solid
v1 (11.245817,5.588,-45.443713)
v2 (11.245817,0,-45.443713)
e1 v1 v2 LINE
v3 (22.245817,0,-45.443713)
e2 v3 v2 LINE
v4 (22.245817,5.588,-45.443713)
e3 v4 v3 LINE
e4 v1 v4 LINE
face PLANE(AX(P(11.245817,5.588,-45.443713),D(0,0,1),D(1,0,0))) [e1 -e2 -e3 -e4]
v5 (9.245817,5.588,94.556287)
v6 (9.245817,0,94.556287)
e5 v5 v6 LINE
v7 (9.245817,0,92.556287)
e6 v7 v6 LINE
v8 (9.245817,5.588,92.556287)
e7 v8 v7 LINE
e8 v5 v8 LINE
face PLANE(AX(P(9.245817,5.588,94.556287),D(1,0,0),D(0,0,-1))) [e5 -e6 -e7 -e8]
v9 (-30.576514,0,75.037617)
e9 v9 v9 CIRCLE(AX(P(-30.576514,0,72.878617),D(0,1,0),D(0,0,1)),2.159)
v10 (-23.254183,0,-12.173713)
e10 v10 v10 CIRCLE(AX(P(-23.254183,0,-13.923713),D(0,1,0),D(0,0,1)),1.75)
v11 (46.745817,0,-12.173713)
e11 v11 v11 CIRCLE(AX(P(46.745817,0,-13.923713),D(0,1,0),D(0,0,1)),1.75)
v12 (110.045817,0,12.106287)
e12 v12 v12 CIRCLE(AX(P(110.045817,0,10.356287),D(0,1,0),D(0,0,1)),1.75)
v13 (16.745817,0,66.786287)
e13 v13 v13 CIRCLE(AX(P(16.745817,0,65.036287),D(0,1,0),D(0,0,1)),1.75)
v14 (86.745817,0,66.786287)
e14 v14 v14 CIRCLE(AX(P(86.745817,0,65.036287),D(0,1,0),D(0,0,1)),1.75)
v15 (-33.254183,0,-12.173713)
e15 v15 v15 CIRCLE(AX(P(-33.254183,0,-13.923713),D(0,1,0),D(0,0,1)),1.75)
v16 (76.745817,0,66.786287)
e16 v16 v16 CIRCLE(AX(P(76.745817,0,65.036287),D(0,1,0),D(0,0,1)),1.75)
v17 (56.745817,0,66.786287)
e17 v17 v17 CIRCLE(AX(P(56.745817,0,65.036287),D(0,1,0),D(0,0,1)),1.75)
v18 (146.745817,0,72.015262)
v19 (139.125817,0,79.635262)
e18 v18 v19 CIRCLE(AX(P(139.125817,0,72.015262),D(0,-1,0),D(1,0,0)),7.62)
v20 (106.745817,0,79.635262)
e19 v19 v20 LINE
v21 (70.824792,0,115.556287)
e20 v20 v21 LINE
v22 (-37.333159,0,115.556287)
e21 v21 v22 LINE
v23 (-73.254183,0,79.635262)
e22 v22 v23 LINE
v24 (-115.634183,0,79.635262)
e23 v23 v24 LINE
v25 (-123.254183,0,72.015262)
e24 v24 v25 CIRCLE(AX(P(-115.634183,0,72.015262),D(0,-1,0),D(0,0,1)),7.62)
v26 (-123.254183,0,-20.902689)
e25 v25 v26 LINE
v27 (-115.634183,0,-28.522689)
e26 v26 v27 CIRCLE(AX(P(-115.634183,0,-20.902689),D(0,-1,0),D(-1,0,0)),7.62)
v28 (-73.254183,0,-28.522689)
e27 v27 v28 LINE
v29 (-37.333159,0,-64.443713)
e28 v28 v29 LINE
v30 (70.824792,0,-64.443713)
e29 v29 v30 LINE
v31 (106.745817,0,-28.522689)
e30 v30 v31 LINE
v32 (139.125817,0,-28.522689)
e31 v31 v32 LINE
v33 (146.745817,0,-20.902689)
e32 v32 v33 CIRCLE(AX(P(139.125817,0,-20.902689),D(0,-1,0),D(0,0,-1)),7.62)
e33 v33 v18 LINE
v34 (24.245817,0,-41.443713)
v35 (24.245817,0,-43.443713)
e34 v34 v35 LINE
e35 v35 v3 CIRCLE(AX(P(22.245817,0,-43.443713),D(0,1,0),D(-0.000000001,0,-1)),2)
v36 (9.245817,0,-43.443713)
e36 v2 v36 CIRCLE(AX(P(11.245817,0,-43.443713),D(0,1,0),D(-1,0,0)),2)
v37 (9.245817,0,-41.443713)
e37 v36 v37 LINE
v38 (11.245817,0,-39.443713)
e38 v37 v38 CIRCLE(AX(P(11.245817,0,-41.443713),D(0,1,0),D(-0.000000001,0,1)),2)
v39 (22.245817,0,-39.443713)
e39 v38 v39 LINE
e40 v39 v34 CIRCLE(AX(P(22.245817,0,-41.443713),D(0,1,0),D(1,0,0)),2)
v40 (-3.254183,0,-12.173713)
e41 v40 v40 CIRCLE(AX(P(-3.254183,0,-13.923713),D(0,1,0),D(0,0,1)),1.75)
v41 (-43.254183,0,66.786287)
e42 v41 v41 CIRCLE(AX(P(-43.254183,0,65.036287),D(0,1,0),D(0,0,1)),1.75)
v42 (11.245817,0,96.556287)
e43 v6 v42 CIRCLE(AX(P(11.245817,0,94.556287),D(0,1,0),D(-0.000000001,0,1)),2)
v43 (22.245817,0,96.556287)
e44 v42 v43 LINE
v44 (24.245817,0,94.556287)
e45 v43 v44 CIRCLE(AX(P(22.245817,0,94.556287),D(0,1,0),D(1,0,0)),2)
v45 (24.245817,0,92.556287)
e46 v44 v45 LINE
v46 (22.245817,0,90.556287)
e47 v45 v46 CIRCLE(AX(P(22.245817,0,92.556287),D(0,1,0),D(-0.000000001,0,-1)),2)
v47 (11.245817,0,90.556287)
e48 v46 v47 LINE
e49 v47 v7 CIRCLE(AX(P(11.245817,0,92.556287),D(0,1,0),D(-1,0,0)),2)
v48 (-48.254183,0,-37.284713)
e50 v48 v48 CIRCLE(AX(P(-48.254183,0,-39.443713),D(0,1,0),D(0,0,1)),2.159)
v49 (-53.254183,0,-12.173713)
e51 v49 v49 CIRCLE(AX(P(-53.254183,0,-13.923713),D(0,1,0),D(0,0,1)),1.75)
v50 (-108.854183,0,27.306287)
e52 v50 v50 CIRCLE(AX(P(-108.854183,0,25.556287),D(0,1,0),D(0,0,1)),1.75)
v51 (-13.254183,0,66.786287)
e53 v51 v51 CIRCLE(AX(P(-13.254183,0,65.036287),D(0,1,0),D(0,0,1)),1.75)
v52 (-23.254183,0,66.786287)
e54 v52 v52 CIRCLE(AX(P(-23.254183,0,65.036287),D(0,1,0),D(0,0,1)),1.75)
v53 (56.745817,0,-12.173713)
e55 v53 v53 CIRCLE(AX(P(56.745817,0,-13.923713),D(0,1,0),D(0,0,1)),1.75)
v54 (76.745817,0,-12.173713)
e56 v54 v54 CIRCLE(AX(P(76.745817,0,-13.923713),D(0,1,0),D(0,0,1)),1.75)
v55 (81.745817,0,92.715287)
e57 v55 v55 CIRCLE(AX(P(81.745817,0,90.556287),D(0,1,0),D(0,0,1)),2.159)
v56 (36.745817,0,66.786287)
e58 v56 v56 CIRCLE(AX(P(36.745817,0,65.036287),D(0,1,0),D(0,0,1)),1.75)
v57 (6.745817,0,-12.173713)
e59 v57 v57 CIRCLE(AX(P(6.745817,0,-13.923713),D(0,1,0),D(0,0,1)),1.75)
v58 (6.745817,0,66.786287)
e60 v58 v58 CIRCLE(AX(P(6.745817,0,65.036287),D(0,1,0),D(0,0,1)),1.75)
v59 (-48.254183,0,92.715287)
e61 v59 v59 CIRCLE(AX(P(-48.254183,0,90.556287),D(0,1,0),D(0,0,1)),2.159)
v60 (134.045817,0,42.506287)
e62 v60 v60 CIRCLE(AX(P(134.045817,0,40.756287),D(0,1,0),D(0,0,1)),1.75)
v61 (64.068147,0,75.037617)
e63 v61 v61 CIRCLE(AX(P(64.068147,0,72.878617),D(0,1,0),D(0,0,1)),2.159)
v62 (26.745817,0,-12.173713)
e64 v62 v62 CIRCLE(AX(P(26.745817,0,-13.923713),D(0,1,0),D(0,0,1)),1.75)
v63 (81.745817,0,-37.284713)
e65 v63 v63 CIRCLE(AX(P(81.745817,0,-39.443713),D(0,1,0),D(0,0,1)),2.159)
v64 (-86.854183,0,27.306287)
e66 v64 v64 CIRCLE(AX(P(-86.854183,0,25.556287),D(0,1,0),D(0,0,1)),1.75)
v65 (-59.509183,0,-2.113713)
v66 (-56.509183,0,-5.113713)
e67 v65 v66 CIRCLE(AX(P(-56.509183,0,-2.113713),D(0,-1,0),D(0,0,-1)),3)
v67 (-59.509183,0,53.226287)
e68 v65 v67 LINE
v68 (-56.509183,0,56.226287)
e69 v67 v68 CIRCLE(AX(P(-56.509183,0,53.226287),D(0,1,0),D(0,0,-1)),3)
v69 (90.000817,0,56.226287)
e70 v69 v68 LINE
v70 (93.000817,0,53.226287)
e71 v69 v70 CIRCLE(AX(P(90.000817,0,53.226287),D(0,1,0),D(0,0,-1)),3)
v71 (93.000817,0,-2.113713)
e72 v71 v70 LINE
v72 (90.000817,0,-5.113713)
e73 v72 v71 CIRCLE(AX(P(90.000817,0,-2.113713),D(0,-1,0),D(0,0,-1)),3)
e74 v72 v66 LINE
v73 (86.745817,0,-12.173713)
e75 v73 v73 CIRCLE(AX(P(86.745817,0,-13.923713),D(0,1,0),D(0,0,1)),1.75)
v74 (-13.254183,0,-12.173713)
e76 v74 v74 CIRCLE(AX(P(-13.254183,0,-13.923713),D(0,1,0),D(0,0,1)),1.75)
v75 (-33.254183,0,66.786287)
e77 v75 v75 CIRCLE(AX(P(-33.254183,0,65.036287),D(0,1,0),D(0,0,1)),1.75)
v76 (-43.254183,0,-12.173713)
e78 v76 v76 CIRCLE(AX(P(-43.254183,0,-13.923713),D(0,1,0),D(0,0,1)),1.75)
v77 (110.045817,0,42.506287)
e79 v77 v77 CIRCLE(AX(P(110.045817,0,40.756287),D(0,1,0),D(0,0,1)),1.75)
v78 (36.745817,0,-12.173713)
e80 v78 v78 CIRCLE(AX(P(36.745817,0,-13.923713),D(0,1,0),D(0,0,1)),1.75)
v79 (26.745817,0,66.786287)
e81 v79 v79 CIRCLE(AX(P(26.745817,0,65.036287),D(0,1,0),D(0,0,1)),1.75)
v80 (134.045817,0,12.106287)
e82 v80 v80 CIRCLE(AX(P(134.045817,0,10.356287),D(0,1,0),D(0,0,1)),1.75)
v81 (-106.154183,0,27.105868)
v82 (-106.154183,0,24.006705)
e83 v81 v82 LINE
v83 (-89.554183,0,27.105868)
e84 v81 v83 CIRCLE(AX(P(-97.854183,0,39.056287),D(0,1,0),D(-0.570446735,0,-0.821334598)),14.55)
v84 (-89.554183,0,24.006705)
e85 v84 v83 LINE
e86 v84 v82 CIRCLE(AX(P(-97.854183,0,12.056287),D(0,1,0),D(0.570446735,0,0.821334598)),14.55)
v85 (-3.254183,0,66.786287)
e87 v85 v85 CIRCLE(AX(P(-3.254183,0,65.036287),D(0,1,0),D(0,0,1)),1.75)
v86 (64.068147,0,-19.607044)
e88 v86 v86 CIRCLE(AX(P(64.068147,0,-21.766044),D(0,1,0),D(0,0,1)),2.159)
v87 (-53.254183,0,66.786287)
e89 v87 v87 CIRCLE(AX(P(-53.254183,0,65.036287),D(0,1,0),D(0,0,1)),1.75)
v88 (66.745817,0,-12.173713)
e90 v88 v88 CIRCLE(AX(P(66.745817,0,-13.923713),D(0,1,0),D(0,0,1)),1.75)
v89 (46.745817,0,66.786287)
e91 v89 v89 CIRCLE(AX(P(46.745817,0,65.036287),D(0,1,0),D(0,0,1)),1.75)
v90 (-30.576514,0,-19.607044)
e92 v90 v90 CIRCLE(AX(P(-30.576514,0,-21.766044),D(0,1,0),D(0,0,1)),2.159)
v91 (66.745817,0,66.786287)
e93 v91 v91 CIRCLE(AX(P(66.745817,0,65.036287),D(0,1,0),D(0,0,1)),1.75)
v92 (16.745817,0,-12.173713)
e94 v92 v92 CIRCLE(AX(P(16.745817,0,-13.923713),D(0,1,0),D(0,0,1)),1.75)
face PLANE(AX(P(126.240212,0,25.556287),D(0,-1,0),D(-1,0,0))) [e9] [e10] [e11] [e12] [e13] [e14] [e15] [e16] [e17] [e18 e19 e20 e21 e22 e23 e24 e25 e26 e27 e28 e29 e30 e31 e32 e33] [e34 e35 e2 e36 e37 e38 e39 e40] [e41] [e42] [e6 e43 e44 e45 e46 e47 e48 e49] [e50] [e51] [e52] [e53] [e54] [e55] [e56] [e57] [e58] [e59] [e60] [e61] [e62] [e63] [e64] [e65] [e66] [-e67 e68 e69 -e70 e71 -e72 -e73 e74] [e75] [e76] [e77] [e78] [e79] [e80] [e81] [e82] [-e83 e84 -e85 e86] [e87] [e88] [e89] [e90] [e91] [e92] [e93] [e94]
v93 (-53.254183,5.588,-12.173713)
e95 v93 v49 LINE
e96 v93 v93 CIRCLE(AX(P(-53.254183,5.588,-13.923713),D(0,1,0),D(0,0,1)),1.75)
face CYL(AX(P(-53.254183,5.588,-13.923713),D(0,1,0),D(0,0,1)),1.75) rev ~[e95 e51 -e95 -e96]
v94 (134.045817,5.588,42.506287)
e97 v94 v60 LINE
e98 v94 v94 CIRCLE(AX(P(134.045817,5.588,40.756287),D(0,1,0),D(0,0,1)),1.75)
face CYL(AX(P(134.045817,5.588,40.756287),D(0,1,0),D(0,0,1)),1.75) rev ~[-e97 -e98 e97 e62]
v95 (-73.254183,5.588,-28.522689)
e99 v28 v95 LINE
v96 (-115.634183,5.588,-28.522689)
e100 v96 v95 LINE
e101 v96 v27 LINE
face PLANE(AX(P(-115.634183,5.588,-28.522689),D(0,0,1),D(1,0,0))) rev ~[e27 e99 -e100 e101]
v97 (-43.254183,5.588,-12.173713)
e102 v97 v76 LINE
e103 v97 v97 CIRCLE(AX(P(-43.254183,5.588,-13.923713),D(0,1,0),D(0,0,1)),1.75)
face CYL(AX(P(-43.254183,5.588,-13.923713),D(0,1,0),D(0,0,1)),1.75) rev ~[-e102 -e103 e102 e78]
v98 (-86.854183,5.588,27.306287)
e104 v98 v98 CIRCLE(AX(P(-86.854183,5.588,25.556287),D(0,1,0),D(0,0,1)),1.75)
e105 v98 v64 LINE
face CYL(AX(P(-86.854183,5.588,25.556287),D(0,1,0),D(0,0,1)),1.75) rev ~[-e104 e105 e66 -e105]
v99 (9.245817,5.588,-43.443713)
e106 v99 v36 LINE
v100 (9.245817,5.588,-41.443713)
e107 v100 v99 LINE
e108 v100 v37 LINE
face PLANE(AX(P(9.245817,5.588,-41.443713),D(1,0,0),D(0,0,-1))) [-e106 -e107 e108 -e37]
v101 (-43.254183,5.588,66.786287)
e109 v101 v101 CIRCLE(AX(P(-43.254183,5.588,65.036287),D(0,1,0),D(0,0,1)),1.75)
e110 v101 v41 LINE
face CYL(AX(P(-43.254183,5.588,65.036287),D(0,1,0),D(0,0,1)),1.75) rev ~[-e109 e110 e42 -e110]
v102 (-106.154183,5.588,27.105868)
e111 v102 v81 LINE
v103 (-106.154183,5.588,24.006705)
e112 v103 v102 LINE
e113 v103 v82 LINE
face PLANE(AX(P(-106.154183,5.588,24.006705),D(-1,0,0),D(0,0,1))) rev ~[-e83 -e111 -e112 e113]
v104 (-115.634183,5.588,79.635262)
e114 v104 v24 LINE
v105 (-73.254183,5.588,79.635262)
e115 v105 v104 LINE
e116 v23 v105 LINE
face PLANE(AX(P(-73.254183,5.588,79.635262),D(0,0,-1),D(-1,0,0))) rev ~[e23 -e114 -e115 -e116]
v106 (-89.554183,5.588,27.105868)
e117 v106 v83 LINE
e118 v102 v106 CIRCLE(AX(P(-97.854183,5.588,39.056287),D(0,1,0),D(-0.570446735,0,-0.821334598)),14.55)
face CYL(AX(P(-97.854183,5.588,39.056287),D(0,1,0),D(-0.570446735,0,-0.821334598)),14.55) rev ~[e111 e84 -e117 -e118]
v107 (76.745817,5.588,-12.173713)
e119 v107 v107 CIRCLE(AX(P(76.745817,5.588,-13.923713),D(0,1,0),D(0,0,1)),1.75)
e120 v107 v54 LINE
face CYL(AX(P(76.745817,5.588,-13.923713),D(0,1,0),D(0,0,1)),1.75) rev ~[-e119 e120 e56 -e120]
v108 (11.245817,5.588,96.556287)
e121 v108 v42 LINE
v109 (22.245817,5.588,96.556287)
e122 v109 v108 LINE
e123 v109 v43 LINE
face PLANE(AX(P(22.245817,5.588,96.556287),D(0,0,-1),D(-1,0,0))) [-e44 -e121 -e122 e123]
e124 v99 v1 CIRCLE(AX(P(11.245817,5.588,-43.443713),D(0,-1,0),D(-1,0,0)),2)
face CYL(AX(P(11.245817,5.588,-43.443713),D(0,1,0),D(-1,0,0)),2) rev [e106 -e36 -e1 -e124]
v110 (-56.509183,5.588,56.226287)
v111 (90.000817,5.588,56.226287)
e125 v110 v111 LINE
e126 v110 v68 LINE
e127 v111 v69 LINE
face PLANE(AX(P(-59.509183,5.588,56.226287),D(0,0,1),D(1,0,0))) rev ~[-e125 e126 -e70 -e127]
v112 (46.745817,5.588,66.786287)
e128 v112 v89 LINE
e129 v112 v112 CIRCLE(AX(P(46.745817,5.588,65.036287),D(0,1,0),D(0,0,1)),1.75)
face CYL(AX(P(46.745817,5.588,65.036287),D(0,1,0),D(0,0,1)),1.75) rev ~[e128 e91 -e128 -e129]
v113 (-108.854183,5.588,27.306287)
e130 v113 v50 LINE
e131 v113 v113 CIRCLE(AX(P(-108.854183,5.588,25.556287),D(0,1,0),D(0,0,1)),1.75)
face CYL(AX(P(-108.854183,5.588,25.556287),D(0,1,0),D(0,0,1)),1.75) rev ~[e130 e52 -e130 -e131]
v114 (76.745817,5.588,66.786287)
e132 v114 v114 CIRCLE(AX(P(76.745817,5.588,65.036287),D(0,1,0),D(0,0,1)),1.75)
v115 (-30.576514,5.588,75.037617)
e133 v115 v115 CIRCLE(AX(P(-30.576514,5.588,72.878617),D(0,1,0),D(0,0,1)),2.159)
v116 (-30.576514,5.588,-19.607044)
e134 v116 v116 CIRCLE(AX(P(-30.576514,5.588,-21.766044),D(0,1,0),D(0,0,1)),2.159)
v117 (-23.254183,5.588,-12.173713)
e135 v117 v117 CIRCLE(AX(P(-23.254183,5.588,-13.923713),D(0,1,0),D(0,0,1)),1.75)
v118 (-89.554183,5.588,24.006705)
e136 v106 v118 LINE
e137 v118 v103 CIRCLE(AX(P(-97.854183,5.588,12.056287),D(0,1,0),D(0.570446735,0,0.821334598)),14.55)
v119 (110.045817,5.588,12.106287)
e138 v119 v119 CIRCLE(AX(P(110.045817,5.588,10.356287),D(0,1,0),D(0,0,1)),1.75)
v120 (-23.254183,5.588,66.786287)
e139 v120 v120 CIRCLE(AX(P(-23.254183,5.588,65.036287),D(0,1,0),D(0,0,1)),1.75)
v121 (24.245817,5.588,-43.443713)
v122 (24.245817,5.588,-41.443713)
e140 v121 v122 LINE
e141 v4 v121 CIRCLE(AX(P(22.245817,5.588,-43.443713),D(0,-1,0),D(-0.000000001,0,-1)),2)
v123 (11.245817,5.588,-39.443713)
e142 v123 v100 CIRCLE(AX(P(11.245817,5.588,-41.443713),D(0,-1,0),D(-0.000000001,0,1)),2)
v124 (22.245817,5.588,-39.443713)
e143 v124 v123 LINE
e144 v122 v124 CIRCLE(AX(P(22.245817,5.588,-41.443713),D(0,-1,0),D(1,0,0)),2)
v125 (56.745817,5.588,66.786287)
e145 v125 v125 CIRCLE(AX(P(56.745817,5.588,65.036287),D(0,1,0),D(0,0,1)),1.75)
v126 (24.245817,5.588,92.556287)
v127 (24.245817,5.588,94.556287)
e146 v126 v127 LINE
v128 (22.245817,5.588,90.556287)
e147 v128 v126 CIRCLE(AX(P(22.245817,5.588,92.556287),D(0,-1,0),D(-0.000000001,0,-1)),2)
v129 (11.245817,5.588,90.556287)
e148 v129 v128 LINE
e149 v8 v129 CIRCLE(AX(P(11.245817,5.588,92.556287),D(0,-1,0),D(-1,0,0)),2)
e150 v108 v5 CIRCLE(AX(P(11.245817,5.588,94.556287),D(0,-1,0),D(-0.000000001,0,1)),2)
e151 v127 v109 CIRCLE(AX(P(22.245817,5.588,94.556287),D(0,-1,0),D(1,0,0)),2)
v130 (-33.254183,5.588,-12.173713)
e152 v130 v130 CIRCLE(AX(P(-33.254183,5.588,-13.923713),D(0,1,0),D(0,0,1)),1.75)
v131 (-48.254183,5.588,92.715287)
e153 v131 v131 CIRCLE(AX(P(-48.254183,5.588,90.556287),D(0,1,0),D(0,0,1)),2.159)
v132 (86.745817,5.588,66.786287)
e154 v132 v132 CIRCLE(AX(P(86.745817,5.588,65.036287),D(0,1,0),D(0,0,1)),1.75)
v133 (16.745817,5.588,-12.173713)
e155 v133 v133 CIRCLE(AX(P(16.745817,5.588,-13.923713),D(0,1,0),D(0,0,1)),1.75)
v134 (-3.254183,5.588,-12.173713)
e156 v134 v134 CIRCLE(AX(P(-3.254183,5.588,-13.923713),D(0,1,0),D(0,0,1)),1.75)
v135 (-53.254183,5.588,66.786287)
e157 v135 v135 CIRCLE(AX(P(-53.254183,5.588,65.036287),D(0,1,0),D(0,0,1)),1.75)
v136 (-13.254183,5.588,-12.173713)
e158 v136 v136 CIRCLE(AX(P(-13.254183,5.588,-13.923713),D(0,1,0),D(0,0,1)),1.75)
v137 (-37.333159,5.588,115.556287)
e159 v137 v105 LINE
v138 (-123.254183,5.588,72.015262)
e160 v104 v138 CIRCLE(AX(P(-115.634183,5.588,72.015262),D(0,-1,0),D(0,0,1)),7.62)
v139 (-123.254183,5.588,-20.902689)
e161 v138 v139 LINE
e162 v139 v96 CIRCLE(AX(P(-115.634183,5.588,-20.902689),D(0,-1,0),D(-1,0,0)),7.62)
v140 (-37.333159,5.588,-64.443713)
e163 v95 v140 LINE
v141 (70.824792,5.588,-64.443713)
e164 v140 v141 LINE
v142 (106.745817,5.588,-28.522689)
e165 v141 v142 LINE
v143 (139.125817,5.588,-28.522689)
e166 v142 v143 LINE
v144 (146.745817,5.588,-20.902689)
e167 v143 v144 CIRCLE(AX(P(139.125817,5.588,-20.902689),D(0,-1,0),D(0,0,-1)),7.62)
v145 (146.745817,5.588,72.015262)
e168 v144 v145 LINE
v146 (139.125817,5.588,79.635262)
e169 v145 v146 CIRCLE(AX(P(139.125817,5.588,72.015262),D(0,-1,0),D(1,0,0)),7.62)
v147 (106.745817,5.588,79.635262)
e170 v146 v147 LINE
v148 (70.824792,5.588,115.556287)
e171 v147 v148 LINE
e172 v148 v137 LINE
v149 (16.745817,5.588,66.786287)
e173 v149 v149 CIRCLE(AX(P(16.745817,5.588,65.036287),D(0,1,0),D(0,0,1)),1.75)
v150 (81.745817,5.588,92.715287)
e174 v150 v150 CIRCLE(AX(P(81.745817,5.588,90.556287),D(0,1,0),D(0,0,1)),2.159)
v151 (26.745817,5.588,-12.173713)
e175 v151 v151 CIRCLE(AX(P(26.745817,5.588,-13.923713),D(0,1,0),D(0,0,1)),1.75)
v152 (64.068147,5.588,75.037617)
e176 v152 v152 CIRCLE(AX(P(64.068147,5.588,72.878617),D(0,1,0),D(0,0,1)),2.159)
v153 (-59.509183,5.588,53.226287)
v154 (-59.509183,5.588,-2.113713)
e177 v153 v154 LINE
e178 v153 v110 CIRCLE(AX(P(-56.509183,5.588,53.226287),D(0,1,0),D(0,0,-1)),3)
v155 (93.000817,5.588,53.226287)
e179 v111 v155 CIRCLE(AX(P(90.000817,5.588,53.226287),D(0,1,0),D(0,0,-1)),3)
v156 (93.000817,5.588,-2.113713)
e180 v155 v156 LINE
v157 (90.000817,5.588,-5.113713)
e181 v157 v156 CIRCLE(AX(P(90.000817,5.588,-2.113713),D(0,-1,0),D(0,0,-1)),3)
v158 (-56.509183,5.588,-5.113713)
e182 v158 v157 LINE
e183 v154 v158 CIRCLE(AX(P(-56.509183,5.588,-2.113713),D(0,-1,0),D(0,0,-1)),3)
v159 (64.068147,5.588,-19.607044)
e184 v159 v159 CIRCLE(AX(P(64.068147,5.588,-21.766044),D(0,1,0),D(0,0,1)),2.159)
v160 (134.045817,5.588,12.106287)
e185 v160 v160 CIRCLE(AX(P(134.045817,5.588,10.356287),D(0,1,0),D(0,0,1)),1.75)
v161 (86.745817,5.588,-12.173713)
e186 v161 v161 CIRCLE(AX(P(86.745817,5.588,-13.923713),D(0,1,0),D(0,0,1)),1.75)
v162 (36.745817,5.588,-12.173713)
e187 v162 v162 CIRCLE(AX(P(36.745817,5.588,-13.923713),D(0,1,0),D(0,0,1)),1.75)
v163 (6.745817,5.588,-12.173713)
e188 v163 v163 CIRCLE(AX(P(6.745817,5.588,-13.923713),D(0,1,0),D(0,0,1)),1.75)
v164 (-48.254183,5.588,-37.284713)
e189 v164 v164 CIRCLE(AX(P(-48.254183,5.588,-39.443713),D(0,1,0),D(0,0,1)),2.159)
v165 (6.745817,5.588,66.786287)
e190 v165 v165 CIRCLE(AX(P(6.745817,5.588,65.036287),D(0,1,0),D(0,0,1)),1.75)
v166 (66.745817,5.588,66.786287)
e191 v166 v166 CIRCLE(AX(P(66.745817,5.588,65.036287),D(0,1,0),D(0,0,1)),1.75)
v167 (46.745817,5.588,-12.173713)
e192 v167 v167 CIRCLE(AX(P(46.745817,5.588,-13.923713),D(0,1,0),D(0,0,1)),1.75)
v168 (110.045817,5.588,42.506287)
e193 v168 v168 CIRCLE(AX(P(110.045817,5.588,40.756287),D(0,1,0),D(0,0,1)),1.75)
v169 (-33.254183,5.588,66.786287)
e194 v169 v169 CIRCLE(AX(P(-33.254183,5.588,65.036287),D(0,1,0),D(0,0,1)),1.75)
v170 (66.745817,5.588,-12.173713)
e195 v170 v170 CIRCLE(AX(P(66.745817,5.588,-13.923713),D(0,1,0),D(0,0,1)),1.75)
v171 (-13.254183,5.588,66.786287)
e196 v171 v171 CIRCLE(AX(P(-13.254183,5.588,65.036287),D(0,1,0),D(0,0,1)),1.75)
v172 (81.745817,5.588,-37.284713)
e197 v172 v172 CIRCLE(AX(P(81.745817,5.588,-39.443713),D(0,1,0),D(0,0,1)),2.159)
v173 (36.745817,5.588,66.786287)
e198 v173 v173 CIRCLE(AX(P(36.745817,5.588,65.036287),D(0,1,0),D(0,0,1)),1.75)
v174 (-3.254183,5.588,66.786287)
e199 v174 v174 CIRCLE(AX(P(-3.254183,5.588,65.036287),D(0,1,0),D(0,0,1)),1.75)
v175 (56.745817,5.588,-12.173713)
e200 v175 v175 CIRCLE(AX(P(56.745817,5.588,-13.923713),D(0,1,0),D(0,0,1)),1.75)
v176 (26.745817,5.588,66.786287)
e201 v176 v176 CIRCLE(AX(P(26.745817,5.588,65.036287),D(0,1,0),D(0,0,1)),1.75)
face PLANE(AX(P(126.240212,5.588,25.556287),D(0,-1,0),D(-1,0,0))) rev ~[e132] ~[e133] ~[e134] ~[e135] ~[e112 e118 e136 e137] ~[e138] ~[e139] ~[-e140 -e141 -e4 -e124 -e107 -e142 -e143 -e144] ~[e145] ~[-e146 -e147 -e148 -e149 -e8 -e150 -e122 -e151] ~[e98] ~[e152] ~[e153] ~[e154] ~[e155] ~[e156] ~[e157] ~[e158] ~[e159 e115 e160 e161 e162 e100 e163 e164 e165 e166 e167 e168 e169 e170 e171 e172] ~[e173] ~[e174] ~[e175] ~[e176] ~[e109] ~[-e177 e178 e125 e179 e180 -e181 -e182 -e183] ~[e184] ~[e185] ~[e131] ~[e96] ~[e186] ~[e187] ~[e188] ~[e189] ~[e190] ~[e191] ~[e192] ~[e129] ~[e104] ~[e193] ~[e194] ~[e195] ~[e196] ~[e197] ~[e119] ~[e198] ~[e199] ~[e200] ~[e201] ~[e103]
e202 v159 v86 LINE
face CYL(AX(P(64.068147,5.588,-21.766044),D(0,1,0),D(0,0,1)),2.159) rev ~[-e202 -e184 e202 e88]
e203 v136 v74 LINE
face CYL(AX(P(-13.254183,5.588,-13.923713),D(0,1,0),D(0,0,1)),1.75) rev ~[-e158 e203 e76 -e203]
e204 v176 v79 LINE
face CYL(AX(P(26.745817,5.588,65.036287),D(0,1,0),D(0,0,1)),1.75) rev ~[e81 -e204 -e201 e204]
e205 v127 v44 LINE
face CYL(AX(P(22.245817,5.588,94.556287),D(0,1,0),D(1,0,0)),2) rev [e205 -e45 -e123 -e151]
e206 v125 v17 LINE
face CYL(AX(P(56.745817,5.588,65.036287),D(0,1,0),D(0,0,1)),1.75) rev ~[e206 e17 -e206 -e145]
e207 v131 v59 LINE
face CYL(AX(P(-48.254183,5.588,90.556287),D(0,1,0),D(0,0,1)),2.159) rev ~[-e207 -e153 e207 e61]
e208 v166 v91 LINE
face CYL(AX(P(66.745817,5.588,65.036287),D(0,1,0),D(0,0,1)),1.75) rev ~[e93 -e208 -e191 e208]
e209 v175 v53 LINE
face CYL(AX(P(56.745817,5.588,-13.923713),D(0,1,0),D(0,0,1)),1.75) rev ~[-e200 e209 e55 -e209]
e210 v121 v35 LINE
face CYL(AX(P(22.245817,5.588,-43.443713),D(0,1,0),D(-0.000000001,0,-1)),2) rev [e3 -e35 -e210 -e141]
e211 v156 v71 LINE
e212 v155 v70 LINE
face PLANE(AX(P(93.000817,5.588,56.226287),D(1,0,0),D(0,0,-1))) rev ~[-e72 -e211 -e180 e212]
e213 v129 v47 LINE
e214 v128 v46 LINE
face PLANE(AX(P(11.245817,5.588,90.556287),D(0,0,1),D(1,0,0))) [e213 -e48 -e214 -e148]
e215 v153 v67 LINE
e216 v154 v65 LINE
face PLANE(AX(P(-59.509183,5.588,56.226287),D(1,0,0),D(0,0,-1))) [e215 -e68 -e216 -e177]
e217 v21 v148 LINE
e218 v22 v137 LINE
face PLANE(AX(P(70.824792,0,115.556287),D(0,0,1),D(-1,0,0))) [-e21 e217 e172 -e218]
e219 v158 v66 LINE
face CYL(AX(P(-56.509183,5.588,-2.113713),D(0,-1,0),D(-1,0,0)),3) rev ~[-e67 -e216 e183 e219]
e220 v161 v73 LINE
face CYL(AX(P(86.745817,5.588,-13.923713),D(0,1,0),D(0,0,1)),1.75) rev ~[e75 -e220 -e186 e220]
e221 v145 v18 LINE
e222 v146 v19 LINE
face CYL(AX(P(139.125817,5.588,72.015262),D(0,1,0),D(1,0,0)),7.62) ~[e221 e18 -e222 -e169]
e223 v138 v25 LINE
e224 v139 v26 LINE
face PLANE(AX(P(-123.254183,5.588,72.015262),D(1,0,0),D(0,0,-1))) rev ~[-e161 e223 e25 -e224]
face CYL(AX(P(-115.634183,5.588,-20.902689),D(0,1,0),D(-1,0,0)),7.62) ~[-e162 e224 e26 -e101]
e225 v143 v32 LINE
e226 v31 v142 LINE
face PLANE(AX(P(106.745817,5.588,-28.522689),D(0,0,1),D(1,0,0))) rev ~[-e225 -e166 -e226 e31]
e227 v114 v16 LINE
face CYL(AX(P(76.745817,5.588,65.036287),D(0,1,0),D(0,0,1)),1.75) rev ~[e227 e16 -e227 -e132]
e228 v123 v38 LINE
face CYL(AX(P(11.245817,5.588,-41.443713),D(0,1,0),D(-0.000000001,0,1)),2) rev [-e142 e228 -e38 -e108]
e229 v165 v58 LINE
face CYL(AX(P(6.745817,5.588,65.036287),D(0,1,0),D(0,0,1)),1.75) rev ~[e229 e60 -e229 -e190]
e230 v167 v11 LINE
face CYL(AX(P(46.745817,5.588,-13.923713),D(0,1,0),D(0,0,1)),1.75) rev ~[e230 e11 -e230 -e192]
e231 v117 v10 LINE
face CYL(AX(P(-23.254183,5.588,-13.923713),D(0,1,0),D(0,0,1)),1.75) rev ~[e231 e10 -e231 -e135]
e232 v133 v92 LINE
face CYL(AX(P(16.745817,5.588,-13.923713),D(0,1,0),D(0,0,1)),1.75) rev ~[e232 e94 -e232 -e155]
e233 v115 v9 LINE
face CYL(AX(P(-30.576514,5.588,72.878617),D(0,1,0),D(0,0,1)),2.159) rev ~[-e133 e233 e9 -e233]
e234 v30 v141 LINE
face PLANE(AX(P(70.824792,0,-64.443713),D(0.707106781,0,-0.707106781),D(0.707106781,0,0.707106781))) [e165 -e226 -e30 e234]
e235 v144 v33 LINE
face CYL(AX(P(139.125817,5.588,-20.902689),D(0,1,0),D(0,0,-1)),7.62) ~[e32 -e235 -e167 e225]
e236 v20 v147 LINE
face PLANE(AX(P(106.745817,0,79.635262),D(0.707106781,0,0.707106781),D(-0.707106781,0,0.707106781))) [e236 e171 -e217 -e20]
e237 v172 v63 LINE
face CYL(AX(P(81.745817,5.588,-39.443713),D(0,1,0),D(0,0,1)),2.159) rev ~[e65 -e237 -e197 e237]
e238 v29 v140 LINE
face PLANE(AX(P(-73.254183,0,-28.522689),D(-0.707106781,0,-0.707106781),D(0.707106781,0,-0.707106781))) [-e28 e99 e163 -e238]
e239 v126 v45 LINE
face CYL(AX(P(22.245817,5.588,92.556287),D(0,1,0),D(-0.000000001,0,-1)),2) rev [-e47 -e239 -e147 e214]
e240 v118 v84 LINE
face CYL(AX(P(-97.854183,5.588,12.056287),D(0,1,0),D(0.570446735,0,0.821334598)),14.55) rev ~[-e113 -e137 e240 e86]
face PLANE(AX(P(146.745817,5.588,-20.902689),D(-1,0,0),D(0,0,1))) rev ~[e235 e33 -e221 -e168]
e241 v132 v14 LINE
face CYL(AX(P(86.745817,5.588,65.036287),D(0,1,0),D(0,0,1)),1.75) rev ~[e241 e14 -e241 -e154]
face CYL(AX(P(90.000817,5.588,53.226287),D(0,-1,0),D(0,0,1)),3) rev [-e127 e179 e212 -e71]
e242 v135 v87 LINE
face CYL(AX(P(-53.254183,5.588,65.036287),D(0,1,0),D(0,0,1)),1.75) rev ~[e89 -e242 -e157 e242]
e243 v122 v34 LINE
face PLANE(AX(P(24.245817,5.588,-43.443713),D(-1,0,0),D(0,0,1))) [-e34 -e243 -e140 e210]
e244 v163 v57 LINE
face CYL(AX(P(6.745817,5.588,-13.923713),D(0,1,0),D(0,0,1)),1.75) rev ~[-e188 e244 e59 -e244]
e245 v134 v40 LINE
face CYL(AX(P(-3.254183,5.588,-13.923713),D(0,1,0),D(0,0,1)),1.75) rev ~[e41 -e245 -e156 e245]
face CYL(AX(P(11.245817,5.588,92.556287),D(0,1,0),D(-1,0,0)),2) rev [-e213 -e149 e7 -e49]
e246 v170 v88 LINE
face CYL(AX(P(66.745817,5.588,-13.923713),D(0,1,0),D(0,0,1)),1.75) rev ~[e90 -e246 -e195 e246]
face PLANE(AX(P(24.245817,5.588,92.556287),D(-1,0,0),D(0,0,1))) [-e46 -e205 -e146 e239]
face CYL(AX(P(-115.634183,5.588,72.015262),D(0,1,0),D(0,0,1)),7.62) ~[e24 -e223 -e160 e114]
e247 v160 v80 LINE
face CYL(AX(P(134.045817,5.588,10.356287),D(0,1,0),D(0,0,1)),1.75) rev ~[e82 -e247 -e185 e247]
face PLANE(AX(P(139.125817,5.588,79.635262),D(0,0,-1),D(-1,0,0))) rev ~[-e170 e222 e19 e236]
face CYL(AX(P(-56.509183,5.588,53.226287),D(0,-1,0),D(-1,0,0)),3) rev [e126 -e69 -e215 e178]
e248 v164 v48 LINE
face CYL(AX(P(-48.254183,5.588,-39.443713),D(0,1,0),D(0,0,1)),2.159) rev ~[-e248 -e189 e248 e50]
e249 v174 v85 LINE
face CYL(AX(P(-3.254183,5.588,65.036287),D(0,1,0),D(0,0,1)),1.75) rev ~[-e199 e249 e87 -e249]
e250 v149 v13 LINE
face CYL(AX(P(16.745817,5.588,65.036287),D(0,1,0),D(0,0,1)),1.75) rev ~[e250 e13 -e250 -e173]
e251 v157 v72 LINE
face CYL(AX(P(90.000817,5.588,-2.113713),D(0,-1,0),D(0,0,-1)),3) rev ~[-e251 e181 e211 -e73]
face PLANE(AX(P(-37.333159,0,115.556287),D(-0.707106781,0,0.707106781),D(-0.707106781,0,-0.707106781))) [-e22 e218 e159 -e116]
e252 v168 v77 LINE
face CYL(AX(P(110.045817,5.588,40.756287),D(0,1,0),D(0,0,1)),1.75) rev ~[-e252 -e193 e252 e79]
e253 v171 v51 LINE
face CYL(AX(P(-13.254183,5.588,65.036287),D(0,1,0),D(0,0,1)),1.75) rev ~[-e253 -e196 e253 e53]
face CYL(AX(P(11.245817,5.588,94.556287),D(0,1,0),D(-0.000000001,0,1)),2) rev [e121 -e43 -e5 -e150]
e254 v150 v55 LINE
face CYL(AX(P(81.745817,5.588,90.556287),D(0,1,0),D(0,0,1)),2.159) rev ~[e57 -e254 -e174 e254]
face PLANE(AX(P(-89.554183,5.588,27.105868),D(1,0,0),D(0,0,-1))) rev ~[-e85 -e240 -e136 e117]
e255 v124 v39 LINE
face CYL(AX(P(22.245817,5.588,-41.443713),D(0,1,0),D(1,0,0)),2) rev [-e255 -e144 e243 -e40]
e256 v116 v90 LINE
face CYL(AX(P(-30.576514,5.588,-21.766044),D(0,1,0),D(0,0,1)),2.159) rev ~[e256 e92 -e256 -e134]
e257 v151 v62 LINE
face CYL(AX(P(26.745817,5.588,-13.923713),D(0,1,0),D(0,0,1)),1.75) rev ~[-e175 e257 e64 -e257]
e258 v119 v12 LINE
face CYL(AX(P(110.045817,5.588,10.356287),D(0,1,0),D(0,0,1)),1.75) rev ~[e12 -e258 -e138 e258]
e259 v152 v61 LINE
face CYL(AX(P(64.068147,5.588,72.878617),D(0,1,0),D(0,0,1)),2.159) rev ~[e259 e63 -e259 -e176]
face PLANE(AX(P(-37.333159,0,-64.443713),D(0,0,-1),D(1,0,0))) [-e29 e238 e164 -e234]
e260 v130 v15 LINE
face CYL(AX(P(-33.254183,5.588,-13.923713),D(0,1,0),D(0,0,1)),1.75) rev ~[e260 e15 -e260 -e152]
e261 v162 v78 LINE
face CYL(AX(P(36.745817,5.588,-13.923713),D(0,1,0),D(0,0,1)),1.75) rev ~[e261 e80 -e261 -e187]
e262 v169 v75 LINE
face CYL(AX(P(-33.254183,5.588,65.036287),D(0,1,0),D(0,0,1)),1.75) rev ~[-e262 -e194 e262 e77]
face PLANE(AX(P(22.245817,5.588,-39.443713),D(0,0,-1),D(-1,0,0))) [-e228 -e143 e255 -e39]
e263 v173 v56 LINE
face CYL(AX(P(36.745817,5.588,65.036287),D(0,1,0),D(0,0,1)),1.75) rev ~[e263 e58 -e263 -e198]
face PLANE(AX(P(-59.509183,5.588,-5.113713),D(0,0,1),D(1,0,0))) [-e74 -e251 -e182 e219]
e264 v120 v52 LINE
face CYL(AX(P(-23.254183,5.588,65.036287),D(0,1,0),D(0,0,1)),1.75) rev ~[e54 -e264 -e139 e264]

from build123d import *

# Parameters (mm, degrees)
BOSS_EXTRUDE1_DEPTH = 5.588
SKETCH2_R           = 2.159
CUT_EXTRUDE1_DEPTH  = 158.413946399
SKETCH3_W           = 152.51
SKETCH3_H           = 61.34
CUT_EXTRUDE2_DEPTH  = 158.413946399
BOSS_EXTRUDE2_DEPTH = 5.588
BOSS_EXTRUDE3_DEPTH = 5.588
SKETCH7_R           = 1.75
CUT_EXTRUDE4_DEPTH  = 187.865769606
SKETCH8_R           = 1.75
CUT_EXTRUDE6_DEPTH  = 187.865769606
SKETCH9_R           = 1.75
CUT_EXTRUDE8_DEPTH  = 187.865769606
CUT_EXTRUDE9_DEPTH  = 187.865769606
FILLET1_R           = 3


with BuildPart() as part:
    # Sketch1 → Boss-Extrude1 (new body)
    with BuildSketch(Plane(origin=(0, 0, 0), x_dir=(1, 0, 0), z_dir=(0, 1, 0))):
        Polygon((-73.254183378, 28.522688753), (-37.333158894, 64.443713237), (70.824792138, 64.443713237), (106.745816622, 28.522688753), (106.745816622, -79.635262279), (70.824792138, -115.556286763), (-37.333158894, -115.556286763), (-73.254183378, -79.635262279), align=None)
    extrude(amount=BOSS_EXTRUDE1_DEPTH)

    # Sketch2 → Cut-Extrude1 (cut, through all)
    with BuildSketch(Plane(origin=(0, 5.588, 0), x_dir=(1, 0, 0), z_dir=(0, 1, 0))):
        with Locations(Location((-48.254183378, 39.443713237, 0), (0, 0, 270))):
            Circle(SKETCH2_R)
        with Locations(Location((-30.576513848, 21.766043708, 0), (0, 0, 270))):
            Circle(SKETCH2_R)
        with Locations(Location((-48.254183378, -90.556286763, 0), (0, 0, 270))):
            Circle(SKETCH2_R)
        with Locations(Location((-30.576513848, -72.878617233, 0), (0, 0, 270))):
            Circle(SKETCH2_R)
        with Locations(Location((64.068147093, 21.766043708, 0), (0, 0, 270))):
            Circle(SKETCH2_R)
        with Locations(Location((81.745816622, 39.443713237, 0), (0, 0, 270))):
            Circle(SKETCH2_R)
        with Locations(Location((64.068147093, -72.878617233, 0), (0, 0, 270))):
            Circle(SKETCH2_R)
        with Locations(Location((81.745816622, -90.556286763, 0), (0, 0, 270))):
            Circle(SKETCH2_R)
    extrude(amount=-CUT_EXTRUDE1_DEPTH, mode=Mode.SUBTRACT)

    # Sketch3 → Cut-Extrude2 (cut, through all)
    with BuildSketch(Plane(origin=(0, 5.588, 0), x_dir=(1, 0, 0), z_dir=(0, 1, 0))):
        with Locations((16.745816622, -25.556286763)):
            Rectangle(SKETCH3_W, SKETCH3_H)
    extrude(amount=-CUT_EXTRUDE2_DEPTH, mode=Mode.SUBTRACT)

    # Sketch5 → Boss-Extrude2 (add)
    with BuildSketch(Plane(origin=(0, 5.588, 0), x_dir=(1, 0, 0), z_dir=(0, 1, 0))):
        with BuildLine():
            Line((-73.254183378, -79.635262279), (-115.634183378, -79.635262279))
            ThreePointArc((-115.634183378, -79.635262279), (-121.02233705, -77.403415951), (-123.254183378, -72.015262279))
            Line((-123.254183378, -72.015262279), (-123.254183378, 20.902688753))
            ThreePointArc((-123.254183378, 20.902688753), (-121.02233705, 26.290842426), (-115.634183378, 28.522688753))
            Line((-115.634183378, 28.522688753), (-73.254183378, 28.522688753))
            Line((-73.254183378, 28.522688753), (-73.254183378, -79.635262279))
        make_face()
    extrude(amount=-BOSS_EXTRUDE2_DEPTH)

    # Sketch6 → Boss-Extrude3 (add)
    with BuildSketch(Plane(origin=(0, 5.588, 0), x_dir=(1, 0, 0), z_dir=(0, 1, 0))):
        with BuildLine():
            Line((106.745816622, 28.522688753), (139.125816622, 28.522688753))
            ThreePointArc((139.125816622, 28.522688753), (144.513970295, 26.290842426), (146.745816622, 20.902688753))
            Line((146.745816622, 20.902688753), (146.745816622, -72.015262279))
            ThreePointArc((146.745816622, -72.015262279), (144.513970295, -77.403415951), (139.125816622, -79.635262279))
            Line((139.125816622, -79.635262279), (106.745816622, -79.635262279))
            Line((106.745816622, -79.635262279), (106.745816622, 28.522688753))
        make_face()
    extrude(amount=-BOSS_EXTRUDE3_DEPTH)

    # Sketch7 → Cut-Extrude4 (cut, through all)
    with BuildSketch(Plane(origin=(0, 5.588, 0), x_dir=(1, 0, 0), z_dir=(0, 1, 0))):
        with Locations(Location((110.045816622, -10.356286763, 0), (0, 0, 270))):
            Circle(SKETCH7_R)
        with Locations(Location((134.045816622, -10.356286763, 0), (0, 0, 270))):
            Circle(SKETCH7_R)
        with Locations(Location((110.045816622, -40.756286763, 0), (0, 0, 270))):
            Circle(SKETCH7_R)
        with Locations(Location((134.045816622, -40.756286763, 0), (0, 0, 270))):
            Circle(SKETCH7_R)
    extrude(amount=-CUT_EXTRUDE4_DEPTH, mode=Mode.SUBTRACT)

    # Sketch8 → Cut-Extrude6 (cut, through all)
    with BuildSketch(Plane(origin=(0, 5.588, 0), x_dir=(1, 0, 0), z_dir=(0, 1, 0))):
        with Locations(Location((-108.854183378, -25.556286763, 0), (0, 0, 270))):
            Circle(SKETCH8_R)
        with Locations(Location((-86.854183378, -25.556286763, 0), (0, 0, 270))):
            Circle(SKETCH8_R)
        with BuildLine():
            Line((-106.154183378, -24.006705166), (-106.154183378, -27.10586836))
            ThreePointArc((-106.154183378, -27.10586836), (-97.854183378, -53.606286763), (-89.554183378, -27.10586836))
            Line((-89.554183378, -27.10586836), (-89.554183378, -24.006705166))
            ThreePointArc((-89.554183378, -24.006705166), (-97.854183378, 2.493713237), (-106.154183378, -24.006705166))
        make_face()
    extrude(amount=-CUT_EXTRUDE6_DEPTH, mode=Mode.SUBTRACT)

    # Sketch9 → Cut-Extrude8 (cut, through all)
    with BuildSketch(Plane(origin=(0, 5.588, 0), x_dir=(1, 0, 0), z_dir=(0, 1, 0))):
        with Locations(Location((-53.254183378, 13.923713237, 0), (0, 0, 270))):
            Circle(SKETCH9_R)
        with Locations(Location((-43.254183378, 13.923713237, 0), (0, 0, 270))):
            Circle(SKETCH9_R)
        with Locations(Location((-33.254183378, 13.923713237, 0), (0, 0, 270))):
            Circle(SKETCH9_R)
        with Locations(Location((-23.254183378, 13.923713237, 0), (0, 0, 270))):
            Circle(SKETCH9_R)
        with Locations(Location((-13.254183378, 13.923713237, 0), (0, 0, 270))):
            Circle(SKETCH9_R)
        with Locations(Location((-3.254183378, 13.923713237, 0), (0, 0, 270))):
            Circle(SKETCH9_R)
        with Locations(Location((6.745816622, 13.923713237, 0), (0, 0, 270))):
            Circle(SKETCH9_R)
        with Locations(Location((16.745816622, 13.923713237, 0), (0, 0, 270))):
            Circle(SKETCH9_R)
        with Locations(Location((26.745816622, 13.923713237, 0), (0, 0, 270))):
            Circle(SKETCH9_R)
        with Locations(Location((36.745816622, 13.923713237, 0), (0, 0, 270))):
            Circle(SKETCH9_R)
        with Locations(Location((46.745816622, 13.923713237, 0), (0, 0, 270))):
            Circle(SKETCH9_R)
        with Locations(Location((56.745816622, 13.923713237, 0), (0, 0, 270))):
            Circle(SKETCH9_R)
        with Locations(Location((66.745816622, 13.923713237, 0), (0, 0, 270))):
            Circle(SKETCH9_R)
        with Locations(Location((76.745816622, 13.923713237, 0), (0, 0, 270))):
            Circle(SKETCH9_R)
        with Locations(Location((86.745816622, 13.923713237, 0), (0, 0, 270))):
            Circle(SKETCH9_R)
        with Locations(Location((-53.254183378, -65.036286763, 0), (0, 0, 270))):
            Circle(SKETCH9_R)
        with Locations(Location((-43.254183378, -65.036286763, 0), (0, 0, 270))):
            Circle(SKETCH9_R)
        with Locations(Location((-33.254183378, -65.036286763, 0), (0, 0, 270))):
            Circle(SKETCH9_R)
        with Locations(Location((-23.254183378, -65.036286763, 0), (0, 0, 270))):
            Circle(SKETCH9_R)
        with Locations(Location((-13.254183378, -65.036286763, 0), (0, 0, 270))):
            Circle(SKETCH9_R)
        with Locations(Location((-3.254183378, -65.036286763, 0), (0, 0, 270))):
            Circle(SKETCH9_R)
        with Locations(Location((6.745816622, -65.036286763, 0), (0, 0, 270))):
            Circle(SKETCH9_R)
        with Locations(Location((16.745816622, -65.036286763, 0), (0, 0, 270))):
            Circle(SKETCH9_R)
        with Locations(Location((26.745816622, -65.036286763, 0), (0, 0, 270))):
            Circle(SKETCH9_R)
        with Locations(Location((36.745816622, -65.036286763, 0), (0, 0, 270))):
            Circle(SKETCH9_R)
        with Locations(Location((46.745816622, -65.036286763, 0), (0, 0, 270))):
            Circle(SKETCH9_R)
        with Locations(Location((56.745816622, -65.036286763, 0), (0, 0, 270))):
            Circle(SKETCH9_R)
        with Locations(Location((66.745816622, -65.036286763, 0), (0, 0, 270))):
            Circle(SKETCH9_R)
        with Locations(Location((76.745816622, -65.036286763, 0), (0, 0, 270))):
            Circle(SKETCH9_R)
        with Locations(Location((86.745816622, -65.036286763, 0), (0, 0, 270))):
            Circle(SKETCH9_R)
    extrude(amount=-CUT_EXTRUDE8_DEPTH, mode=Mode.SUBTRACT)

    # Sketch10 → Cut-Extrude9 (cut, through all)
    with BuildSketch(Plane(origin=(0, 5.588, 0), x_dir=(1, 0, 0), z_dir=(0, 1, 0))):
        with BuildLine():
            Line((11.245816622, 45.443713237), (22.245816622, 45.443713237))
            ThreePointArc((22.245816622, 45.443713237), (23.660030185, 44.8579268), (24.245816622, 43.443713237))
            Line((24.245816622, 43.443713237), (24.245816622, 41.443713237))
            ThreePointArc((24.245816622, 41.443713237), (23.660030185, 40.029499675), (22.245816622, 39.443713237))
            Line((22.245816622, 39.443713237), (11.245816622, 39.443713237))
            ThreePointArc((11.245816622, 39.443713237), (9.83160306, 40.029499675), (9.245816622, 41.443713237))
            Line((9.245816622, 41.443713237), (9.245816622, 43.443713237))
            ThreePointArc((9.245816622, 43.443713237), (9.83160306, 44.8579268), (11.245816622, 45.443713237))
        make_face()
        with BuildLine():
            Line((11.245816622, -90.556286763), (22.245816622, -90.556286763))
            ThreePointArc((22.245816622, -90.556286763), (23.660030185, -91.1420732), (24.245816622, -92.556286763))
            Line((24.245816622, -92.556286763), (24.245816622, -94.556286763))
            ThreePointArc((24.245816622, -94.556286763), (23.660030185, -95.970500325), (22.245816622, -96.556286763))
            Line((22.245816622, -96.556286763), (11.245816622, -96.556286763))
            ThreePointArc((11.245816622, -96.556286763), (9.83160306, -95.970500325), (9.245816622, -94.556286763))
            Line((9.245816622, -94.556286763), (9.245816622, -92.556286763))
            ThreePointArc((9.245816622, -92.556286763), (9.83160306, -91.1420732), (11.245816622, -90.556286763))
        make_face()
    extrude(amount=-CUT_EXTRUDE9_DEPTH, mode=Mode.SUBTRACT)

    # Fillet1
    fillet1_edges = [part.edges().sort_by_distance(p)[0] for p in [
        (-59.509183378, 2.794, 56.226286763),
        (-59.509183378, 2.794, -5.113713237),
        (93.000816622, 2.794, -5.113713237),
        (93.000816622, 2.794, 56.226286763),
    ]]
    fillet(fillet1_edges, radius=FILLET1_R)


solid = part.part
